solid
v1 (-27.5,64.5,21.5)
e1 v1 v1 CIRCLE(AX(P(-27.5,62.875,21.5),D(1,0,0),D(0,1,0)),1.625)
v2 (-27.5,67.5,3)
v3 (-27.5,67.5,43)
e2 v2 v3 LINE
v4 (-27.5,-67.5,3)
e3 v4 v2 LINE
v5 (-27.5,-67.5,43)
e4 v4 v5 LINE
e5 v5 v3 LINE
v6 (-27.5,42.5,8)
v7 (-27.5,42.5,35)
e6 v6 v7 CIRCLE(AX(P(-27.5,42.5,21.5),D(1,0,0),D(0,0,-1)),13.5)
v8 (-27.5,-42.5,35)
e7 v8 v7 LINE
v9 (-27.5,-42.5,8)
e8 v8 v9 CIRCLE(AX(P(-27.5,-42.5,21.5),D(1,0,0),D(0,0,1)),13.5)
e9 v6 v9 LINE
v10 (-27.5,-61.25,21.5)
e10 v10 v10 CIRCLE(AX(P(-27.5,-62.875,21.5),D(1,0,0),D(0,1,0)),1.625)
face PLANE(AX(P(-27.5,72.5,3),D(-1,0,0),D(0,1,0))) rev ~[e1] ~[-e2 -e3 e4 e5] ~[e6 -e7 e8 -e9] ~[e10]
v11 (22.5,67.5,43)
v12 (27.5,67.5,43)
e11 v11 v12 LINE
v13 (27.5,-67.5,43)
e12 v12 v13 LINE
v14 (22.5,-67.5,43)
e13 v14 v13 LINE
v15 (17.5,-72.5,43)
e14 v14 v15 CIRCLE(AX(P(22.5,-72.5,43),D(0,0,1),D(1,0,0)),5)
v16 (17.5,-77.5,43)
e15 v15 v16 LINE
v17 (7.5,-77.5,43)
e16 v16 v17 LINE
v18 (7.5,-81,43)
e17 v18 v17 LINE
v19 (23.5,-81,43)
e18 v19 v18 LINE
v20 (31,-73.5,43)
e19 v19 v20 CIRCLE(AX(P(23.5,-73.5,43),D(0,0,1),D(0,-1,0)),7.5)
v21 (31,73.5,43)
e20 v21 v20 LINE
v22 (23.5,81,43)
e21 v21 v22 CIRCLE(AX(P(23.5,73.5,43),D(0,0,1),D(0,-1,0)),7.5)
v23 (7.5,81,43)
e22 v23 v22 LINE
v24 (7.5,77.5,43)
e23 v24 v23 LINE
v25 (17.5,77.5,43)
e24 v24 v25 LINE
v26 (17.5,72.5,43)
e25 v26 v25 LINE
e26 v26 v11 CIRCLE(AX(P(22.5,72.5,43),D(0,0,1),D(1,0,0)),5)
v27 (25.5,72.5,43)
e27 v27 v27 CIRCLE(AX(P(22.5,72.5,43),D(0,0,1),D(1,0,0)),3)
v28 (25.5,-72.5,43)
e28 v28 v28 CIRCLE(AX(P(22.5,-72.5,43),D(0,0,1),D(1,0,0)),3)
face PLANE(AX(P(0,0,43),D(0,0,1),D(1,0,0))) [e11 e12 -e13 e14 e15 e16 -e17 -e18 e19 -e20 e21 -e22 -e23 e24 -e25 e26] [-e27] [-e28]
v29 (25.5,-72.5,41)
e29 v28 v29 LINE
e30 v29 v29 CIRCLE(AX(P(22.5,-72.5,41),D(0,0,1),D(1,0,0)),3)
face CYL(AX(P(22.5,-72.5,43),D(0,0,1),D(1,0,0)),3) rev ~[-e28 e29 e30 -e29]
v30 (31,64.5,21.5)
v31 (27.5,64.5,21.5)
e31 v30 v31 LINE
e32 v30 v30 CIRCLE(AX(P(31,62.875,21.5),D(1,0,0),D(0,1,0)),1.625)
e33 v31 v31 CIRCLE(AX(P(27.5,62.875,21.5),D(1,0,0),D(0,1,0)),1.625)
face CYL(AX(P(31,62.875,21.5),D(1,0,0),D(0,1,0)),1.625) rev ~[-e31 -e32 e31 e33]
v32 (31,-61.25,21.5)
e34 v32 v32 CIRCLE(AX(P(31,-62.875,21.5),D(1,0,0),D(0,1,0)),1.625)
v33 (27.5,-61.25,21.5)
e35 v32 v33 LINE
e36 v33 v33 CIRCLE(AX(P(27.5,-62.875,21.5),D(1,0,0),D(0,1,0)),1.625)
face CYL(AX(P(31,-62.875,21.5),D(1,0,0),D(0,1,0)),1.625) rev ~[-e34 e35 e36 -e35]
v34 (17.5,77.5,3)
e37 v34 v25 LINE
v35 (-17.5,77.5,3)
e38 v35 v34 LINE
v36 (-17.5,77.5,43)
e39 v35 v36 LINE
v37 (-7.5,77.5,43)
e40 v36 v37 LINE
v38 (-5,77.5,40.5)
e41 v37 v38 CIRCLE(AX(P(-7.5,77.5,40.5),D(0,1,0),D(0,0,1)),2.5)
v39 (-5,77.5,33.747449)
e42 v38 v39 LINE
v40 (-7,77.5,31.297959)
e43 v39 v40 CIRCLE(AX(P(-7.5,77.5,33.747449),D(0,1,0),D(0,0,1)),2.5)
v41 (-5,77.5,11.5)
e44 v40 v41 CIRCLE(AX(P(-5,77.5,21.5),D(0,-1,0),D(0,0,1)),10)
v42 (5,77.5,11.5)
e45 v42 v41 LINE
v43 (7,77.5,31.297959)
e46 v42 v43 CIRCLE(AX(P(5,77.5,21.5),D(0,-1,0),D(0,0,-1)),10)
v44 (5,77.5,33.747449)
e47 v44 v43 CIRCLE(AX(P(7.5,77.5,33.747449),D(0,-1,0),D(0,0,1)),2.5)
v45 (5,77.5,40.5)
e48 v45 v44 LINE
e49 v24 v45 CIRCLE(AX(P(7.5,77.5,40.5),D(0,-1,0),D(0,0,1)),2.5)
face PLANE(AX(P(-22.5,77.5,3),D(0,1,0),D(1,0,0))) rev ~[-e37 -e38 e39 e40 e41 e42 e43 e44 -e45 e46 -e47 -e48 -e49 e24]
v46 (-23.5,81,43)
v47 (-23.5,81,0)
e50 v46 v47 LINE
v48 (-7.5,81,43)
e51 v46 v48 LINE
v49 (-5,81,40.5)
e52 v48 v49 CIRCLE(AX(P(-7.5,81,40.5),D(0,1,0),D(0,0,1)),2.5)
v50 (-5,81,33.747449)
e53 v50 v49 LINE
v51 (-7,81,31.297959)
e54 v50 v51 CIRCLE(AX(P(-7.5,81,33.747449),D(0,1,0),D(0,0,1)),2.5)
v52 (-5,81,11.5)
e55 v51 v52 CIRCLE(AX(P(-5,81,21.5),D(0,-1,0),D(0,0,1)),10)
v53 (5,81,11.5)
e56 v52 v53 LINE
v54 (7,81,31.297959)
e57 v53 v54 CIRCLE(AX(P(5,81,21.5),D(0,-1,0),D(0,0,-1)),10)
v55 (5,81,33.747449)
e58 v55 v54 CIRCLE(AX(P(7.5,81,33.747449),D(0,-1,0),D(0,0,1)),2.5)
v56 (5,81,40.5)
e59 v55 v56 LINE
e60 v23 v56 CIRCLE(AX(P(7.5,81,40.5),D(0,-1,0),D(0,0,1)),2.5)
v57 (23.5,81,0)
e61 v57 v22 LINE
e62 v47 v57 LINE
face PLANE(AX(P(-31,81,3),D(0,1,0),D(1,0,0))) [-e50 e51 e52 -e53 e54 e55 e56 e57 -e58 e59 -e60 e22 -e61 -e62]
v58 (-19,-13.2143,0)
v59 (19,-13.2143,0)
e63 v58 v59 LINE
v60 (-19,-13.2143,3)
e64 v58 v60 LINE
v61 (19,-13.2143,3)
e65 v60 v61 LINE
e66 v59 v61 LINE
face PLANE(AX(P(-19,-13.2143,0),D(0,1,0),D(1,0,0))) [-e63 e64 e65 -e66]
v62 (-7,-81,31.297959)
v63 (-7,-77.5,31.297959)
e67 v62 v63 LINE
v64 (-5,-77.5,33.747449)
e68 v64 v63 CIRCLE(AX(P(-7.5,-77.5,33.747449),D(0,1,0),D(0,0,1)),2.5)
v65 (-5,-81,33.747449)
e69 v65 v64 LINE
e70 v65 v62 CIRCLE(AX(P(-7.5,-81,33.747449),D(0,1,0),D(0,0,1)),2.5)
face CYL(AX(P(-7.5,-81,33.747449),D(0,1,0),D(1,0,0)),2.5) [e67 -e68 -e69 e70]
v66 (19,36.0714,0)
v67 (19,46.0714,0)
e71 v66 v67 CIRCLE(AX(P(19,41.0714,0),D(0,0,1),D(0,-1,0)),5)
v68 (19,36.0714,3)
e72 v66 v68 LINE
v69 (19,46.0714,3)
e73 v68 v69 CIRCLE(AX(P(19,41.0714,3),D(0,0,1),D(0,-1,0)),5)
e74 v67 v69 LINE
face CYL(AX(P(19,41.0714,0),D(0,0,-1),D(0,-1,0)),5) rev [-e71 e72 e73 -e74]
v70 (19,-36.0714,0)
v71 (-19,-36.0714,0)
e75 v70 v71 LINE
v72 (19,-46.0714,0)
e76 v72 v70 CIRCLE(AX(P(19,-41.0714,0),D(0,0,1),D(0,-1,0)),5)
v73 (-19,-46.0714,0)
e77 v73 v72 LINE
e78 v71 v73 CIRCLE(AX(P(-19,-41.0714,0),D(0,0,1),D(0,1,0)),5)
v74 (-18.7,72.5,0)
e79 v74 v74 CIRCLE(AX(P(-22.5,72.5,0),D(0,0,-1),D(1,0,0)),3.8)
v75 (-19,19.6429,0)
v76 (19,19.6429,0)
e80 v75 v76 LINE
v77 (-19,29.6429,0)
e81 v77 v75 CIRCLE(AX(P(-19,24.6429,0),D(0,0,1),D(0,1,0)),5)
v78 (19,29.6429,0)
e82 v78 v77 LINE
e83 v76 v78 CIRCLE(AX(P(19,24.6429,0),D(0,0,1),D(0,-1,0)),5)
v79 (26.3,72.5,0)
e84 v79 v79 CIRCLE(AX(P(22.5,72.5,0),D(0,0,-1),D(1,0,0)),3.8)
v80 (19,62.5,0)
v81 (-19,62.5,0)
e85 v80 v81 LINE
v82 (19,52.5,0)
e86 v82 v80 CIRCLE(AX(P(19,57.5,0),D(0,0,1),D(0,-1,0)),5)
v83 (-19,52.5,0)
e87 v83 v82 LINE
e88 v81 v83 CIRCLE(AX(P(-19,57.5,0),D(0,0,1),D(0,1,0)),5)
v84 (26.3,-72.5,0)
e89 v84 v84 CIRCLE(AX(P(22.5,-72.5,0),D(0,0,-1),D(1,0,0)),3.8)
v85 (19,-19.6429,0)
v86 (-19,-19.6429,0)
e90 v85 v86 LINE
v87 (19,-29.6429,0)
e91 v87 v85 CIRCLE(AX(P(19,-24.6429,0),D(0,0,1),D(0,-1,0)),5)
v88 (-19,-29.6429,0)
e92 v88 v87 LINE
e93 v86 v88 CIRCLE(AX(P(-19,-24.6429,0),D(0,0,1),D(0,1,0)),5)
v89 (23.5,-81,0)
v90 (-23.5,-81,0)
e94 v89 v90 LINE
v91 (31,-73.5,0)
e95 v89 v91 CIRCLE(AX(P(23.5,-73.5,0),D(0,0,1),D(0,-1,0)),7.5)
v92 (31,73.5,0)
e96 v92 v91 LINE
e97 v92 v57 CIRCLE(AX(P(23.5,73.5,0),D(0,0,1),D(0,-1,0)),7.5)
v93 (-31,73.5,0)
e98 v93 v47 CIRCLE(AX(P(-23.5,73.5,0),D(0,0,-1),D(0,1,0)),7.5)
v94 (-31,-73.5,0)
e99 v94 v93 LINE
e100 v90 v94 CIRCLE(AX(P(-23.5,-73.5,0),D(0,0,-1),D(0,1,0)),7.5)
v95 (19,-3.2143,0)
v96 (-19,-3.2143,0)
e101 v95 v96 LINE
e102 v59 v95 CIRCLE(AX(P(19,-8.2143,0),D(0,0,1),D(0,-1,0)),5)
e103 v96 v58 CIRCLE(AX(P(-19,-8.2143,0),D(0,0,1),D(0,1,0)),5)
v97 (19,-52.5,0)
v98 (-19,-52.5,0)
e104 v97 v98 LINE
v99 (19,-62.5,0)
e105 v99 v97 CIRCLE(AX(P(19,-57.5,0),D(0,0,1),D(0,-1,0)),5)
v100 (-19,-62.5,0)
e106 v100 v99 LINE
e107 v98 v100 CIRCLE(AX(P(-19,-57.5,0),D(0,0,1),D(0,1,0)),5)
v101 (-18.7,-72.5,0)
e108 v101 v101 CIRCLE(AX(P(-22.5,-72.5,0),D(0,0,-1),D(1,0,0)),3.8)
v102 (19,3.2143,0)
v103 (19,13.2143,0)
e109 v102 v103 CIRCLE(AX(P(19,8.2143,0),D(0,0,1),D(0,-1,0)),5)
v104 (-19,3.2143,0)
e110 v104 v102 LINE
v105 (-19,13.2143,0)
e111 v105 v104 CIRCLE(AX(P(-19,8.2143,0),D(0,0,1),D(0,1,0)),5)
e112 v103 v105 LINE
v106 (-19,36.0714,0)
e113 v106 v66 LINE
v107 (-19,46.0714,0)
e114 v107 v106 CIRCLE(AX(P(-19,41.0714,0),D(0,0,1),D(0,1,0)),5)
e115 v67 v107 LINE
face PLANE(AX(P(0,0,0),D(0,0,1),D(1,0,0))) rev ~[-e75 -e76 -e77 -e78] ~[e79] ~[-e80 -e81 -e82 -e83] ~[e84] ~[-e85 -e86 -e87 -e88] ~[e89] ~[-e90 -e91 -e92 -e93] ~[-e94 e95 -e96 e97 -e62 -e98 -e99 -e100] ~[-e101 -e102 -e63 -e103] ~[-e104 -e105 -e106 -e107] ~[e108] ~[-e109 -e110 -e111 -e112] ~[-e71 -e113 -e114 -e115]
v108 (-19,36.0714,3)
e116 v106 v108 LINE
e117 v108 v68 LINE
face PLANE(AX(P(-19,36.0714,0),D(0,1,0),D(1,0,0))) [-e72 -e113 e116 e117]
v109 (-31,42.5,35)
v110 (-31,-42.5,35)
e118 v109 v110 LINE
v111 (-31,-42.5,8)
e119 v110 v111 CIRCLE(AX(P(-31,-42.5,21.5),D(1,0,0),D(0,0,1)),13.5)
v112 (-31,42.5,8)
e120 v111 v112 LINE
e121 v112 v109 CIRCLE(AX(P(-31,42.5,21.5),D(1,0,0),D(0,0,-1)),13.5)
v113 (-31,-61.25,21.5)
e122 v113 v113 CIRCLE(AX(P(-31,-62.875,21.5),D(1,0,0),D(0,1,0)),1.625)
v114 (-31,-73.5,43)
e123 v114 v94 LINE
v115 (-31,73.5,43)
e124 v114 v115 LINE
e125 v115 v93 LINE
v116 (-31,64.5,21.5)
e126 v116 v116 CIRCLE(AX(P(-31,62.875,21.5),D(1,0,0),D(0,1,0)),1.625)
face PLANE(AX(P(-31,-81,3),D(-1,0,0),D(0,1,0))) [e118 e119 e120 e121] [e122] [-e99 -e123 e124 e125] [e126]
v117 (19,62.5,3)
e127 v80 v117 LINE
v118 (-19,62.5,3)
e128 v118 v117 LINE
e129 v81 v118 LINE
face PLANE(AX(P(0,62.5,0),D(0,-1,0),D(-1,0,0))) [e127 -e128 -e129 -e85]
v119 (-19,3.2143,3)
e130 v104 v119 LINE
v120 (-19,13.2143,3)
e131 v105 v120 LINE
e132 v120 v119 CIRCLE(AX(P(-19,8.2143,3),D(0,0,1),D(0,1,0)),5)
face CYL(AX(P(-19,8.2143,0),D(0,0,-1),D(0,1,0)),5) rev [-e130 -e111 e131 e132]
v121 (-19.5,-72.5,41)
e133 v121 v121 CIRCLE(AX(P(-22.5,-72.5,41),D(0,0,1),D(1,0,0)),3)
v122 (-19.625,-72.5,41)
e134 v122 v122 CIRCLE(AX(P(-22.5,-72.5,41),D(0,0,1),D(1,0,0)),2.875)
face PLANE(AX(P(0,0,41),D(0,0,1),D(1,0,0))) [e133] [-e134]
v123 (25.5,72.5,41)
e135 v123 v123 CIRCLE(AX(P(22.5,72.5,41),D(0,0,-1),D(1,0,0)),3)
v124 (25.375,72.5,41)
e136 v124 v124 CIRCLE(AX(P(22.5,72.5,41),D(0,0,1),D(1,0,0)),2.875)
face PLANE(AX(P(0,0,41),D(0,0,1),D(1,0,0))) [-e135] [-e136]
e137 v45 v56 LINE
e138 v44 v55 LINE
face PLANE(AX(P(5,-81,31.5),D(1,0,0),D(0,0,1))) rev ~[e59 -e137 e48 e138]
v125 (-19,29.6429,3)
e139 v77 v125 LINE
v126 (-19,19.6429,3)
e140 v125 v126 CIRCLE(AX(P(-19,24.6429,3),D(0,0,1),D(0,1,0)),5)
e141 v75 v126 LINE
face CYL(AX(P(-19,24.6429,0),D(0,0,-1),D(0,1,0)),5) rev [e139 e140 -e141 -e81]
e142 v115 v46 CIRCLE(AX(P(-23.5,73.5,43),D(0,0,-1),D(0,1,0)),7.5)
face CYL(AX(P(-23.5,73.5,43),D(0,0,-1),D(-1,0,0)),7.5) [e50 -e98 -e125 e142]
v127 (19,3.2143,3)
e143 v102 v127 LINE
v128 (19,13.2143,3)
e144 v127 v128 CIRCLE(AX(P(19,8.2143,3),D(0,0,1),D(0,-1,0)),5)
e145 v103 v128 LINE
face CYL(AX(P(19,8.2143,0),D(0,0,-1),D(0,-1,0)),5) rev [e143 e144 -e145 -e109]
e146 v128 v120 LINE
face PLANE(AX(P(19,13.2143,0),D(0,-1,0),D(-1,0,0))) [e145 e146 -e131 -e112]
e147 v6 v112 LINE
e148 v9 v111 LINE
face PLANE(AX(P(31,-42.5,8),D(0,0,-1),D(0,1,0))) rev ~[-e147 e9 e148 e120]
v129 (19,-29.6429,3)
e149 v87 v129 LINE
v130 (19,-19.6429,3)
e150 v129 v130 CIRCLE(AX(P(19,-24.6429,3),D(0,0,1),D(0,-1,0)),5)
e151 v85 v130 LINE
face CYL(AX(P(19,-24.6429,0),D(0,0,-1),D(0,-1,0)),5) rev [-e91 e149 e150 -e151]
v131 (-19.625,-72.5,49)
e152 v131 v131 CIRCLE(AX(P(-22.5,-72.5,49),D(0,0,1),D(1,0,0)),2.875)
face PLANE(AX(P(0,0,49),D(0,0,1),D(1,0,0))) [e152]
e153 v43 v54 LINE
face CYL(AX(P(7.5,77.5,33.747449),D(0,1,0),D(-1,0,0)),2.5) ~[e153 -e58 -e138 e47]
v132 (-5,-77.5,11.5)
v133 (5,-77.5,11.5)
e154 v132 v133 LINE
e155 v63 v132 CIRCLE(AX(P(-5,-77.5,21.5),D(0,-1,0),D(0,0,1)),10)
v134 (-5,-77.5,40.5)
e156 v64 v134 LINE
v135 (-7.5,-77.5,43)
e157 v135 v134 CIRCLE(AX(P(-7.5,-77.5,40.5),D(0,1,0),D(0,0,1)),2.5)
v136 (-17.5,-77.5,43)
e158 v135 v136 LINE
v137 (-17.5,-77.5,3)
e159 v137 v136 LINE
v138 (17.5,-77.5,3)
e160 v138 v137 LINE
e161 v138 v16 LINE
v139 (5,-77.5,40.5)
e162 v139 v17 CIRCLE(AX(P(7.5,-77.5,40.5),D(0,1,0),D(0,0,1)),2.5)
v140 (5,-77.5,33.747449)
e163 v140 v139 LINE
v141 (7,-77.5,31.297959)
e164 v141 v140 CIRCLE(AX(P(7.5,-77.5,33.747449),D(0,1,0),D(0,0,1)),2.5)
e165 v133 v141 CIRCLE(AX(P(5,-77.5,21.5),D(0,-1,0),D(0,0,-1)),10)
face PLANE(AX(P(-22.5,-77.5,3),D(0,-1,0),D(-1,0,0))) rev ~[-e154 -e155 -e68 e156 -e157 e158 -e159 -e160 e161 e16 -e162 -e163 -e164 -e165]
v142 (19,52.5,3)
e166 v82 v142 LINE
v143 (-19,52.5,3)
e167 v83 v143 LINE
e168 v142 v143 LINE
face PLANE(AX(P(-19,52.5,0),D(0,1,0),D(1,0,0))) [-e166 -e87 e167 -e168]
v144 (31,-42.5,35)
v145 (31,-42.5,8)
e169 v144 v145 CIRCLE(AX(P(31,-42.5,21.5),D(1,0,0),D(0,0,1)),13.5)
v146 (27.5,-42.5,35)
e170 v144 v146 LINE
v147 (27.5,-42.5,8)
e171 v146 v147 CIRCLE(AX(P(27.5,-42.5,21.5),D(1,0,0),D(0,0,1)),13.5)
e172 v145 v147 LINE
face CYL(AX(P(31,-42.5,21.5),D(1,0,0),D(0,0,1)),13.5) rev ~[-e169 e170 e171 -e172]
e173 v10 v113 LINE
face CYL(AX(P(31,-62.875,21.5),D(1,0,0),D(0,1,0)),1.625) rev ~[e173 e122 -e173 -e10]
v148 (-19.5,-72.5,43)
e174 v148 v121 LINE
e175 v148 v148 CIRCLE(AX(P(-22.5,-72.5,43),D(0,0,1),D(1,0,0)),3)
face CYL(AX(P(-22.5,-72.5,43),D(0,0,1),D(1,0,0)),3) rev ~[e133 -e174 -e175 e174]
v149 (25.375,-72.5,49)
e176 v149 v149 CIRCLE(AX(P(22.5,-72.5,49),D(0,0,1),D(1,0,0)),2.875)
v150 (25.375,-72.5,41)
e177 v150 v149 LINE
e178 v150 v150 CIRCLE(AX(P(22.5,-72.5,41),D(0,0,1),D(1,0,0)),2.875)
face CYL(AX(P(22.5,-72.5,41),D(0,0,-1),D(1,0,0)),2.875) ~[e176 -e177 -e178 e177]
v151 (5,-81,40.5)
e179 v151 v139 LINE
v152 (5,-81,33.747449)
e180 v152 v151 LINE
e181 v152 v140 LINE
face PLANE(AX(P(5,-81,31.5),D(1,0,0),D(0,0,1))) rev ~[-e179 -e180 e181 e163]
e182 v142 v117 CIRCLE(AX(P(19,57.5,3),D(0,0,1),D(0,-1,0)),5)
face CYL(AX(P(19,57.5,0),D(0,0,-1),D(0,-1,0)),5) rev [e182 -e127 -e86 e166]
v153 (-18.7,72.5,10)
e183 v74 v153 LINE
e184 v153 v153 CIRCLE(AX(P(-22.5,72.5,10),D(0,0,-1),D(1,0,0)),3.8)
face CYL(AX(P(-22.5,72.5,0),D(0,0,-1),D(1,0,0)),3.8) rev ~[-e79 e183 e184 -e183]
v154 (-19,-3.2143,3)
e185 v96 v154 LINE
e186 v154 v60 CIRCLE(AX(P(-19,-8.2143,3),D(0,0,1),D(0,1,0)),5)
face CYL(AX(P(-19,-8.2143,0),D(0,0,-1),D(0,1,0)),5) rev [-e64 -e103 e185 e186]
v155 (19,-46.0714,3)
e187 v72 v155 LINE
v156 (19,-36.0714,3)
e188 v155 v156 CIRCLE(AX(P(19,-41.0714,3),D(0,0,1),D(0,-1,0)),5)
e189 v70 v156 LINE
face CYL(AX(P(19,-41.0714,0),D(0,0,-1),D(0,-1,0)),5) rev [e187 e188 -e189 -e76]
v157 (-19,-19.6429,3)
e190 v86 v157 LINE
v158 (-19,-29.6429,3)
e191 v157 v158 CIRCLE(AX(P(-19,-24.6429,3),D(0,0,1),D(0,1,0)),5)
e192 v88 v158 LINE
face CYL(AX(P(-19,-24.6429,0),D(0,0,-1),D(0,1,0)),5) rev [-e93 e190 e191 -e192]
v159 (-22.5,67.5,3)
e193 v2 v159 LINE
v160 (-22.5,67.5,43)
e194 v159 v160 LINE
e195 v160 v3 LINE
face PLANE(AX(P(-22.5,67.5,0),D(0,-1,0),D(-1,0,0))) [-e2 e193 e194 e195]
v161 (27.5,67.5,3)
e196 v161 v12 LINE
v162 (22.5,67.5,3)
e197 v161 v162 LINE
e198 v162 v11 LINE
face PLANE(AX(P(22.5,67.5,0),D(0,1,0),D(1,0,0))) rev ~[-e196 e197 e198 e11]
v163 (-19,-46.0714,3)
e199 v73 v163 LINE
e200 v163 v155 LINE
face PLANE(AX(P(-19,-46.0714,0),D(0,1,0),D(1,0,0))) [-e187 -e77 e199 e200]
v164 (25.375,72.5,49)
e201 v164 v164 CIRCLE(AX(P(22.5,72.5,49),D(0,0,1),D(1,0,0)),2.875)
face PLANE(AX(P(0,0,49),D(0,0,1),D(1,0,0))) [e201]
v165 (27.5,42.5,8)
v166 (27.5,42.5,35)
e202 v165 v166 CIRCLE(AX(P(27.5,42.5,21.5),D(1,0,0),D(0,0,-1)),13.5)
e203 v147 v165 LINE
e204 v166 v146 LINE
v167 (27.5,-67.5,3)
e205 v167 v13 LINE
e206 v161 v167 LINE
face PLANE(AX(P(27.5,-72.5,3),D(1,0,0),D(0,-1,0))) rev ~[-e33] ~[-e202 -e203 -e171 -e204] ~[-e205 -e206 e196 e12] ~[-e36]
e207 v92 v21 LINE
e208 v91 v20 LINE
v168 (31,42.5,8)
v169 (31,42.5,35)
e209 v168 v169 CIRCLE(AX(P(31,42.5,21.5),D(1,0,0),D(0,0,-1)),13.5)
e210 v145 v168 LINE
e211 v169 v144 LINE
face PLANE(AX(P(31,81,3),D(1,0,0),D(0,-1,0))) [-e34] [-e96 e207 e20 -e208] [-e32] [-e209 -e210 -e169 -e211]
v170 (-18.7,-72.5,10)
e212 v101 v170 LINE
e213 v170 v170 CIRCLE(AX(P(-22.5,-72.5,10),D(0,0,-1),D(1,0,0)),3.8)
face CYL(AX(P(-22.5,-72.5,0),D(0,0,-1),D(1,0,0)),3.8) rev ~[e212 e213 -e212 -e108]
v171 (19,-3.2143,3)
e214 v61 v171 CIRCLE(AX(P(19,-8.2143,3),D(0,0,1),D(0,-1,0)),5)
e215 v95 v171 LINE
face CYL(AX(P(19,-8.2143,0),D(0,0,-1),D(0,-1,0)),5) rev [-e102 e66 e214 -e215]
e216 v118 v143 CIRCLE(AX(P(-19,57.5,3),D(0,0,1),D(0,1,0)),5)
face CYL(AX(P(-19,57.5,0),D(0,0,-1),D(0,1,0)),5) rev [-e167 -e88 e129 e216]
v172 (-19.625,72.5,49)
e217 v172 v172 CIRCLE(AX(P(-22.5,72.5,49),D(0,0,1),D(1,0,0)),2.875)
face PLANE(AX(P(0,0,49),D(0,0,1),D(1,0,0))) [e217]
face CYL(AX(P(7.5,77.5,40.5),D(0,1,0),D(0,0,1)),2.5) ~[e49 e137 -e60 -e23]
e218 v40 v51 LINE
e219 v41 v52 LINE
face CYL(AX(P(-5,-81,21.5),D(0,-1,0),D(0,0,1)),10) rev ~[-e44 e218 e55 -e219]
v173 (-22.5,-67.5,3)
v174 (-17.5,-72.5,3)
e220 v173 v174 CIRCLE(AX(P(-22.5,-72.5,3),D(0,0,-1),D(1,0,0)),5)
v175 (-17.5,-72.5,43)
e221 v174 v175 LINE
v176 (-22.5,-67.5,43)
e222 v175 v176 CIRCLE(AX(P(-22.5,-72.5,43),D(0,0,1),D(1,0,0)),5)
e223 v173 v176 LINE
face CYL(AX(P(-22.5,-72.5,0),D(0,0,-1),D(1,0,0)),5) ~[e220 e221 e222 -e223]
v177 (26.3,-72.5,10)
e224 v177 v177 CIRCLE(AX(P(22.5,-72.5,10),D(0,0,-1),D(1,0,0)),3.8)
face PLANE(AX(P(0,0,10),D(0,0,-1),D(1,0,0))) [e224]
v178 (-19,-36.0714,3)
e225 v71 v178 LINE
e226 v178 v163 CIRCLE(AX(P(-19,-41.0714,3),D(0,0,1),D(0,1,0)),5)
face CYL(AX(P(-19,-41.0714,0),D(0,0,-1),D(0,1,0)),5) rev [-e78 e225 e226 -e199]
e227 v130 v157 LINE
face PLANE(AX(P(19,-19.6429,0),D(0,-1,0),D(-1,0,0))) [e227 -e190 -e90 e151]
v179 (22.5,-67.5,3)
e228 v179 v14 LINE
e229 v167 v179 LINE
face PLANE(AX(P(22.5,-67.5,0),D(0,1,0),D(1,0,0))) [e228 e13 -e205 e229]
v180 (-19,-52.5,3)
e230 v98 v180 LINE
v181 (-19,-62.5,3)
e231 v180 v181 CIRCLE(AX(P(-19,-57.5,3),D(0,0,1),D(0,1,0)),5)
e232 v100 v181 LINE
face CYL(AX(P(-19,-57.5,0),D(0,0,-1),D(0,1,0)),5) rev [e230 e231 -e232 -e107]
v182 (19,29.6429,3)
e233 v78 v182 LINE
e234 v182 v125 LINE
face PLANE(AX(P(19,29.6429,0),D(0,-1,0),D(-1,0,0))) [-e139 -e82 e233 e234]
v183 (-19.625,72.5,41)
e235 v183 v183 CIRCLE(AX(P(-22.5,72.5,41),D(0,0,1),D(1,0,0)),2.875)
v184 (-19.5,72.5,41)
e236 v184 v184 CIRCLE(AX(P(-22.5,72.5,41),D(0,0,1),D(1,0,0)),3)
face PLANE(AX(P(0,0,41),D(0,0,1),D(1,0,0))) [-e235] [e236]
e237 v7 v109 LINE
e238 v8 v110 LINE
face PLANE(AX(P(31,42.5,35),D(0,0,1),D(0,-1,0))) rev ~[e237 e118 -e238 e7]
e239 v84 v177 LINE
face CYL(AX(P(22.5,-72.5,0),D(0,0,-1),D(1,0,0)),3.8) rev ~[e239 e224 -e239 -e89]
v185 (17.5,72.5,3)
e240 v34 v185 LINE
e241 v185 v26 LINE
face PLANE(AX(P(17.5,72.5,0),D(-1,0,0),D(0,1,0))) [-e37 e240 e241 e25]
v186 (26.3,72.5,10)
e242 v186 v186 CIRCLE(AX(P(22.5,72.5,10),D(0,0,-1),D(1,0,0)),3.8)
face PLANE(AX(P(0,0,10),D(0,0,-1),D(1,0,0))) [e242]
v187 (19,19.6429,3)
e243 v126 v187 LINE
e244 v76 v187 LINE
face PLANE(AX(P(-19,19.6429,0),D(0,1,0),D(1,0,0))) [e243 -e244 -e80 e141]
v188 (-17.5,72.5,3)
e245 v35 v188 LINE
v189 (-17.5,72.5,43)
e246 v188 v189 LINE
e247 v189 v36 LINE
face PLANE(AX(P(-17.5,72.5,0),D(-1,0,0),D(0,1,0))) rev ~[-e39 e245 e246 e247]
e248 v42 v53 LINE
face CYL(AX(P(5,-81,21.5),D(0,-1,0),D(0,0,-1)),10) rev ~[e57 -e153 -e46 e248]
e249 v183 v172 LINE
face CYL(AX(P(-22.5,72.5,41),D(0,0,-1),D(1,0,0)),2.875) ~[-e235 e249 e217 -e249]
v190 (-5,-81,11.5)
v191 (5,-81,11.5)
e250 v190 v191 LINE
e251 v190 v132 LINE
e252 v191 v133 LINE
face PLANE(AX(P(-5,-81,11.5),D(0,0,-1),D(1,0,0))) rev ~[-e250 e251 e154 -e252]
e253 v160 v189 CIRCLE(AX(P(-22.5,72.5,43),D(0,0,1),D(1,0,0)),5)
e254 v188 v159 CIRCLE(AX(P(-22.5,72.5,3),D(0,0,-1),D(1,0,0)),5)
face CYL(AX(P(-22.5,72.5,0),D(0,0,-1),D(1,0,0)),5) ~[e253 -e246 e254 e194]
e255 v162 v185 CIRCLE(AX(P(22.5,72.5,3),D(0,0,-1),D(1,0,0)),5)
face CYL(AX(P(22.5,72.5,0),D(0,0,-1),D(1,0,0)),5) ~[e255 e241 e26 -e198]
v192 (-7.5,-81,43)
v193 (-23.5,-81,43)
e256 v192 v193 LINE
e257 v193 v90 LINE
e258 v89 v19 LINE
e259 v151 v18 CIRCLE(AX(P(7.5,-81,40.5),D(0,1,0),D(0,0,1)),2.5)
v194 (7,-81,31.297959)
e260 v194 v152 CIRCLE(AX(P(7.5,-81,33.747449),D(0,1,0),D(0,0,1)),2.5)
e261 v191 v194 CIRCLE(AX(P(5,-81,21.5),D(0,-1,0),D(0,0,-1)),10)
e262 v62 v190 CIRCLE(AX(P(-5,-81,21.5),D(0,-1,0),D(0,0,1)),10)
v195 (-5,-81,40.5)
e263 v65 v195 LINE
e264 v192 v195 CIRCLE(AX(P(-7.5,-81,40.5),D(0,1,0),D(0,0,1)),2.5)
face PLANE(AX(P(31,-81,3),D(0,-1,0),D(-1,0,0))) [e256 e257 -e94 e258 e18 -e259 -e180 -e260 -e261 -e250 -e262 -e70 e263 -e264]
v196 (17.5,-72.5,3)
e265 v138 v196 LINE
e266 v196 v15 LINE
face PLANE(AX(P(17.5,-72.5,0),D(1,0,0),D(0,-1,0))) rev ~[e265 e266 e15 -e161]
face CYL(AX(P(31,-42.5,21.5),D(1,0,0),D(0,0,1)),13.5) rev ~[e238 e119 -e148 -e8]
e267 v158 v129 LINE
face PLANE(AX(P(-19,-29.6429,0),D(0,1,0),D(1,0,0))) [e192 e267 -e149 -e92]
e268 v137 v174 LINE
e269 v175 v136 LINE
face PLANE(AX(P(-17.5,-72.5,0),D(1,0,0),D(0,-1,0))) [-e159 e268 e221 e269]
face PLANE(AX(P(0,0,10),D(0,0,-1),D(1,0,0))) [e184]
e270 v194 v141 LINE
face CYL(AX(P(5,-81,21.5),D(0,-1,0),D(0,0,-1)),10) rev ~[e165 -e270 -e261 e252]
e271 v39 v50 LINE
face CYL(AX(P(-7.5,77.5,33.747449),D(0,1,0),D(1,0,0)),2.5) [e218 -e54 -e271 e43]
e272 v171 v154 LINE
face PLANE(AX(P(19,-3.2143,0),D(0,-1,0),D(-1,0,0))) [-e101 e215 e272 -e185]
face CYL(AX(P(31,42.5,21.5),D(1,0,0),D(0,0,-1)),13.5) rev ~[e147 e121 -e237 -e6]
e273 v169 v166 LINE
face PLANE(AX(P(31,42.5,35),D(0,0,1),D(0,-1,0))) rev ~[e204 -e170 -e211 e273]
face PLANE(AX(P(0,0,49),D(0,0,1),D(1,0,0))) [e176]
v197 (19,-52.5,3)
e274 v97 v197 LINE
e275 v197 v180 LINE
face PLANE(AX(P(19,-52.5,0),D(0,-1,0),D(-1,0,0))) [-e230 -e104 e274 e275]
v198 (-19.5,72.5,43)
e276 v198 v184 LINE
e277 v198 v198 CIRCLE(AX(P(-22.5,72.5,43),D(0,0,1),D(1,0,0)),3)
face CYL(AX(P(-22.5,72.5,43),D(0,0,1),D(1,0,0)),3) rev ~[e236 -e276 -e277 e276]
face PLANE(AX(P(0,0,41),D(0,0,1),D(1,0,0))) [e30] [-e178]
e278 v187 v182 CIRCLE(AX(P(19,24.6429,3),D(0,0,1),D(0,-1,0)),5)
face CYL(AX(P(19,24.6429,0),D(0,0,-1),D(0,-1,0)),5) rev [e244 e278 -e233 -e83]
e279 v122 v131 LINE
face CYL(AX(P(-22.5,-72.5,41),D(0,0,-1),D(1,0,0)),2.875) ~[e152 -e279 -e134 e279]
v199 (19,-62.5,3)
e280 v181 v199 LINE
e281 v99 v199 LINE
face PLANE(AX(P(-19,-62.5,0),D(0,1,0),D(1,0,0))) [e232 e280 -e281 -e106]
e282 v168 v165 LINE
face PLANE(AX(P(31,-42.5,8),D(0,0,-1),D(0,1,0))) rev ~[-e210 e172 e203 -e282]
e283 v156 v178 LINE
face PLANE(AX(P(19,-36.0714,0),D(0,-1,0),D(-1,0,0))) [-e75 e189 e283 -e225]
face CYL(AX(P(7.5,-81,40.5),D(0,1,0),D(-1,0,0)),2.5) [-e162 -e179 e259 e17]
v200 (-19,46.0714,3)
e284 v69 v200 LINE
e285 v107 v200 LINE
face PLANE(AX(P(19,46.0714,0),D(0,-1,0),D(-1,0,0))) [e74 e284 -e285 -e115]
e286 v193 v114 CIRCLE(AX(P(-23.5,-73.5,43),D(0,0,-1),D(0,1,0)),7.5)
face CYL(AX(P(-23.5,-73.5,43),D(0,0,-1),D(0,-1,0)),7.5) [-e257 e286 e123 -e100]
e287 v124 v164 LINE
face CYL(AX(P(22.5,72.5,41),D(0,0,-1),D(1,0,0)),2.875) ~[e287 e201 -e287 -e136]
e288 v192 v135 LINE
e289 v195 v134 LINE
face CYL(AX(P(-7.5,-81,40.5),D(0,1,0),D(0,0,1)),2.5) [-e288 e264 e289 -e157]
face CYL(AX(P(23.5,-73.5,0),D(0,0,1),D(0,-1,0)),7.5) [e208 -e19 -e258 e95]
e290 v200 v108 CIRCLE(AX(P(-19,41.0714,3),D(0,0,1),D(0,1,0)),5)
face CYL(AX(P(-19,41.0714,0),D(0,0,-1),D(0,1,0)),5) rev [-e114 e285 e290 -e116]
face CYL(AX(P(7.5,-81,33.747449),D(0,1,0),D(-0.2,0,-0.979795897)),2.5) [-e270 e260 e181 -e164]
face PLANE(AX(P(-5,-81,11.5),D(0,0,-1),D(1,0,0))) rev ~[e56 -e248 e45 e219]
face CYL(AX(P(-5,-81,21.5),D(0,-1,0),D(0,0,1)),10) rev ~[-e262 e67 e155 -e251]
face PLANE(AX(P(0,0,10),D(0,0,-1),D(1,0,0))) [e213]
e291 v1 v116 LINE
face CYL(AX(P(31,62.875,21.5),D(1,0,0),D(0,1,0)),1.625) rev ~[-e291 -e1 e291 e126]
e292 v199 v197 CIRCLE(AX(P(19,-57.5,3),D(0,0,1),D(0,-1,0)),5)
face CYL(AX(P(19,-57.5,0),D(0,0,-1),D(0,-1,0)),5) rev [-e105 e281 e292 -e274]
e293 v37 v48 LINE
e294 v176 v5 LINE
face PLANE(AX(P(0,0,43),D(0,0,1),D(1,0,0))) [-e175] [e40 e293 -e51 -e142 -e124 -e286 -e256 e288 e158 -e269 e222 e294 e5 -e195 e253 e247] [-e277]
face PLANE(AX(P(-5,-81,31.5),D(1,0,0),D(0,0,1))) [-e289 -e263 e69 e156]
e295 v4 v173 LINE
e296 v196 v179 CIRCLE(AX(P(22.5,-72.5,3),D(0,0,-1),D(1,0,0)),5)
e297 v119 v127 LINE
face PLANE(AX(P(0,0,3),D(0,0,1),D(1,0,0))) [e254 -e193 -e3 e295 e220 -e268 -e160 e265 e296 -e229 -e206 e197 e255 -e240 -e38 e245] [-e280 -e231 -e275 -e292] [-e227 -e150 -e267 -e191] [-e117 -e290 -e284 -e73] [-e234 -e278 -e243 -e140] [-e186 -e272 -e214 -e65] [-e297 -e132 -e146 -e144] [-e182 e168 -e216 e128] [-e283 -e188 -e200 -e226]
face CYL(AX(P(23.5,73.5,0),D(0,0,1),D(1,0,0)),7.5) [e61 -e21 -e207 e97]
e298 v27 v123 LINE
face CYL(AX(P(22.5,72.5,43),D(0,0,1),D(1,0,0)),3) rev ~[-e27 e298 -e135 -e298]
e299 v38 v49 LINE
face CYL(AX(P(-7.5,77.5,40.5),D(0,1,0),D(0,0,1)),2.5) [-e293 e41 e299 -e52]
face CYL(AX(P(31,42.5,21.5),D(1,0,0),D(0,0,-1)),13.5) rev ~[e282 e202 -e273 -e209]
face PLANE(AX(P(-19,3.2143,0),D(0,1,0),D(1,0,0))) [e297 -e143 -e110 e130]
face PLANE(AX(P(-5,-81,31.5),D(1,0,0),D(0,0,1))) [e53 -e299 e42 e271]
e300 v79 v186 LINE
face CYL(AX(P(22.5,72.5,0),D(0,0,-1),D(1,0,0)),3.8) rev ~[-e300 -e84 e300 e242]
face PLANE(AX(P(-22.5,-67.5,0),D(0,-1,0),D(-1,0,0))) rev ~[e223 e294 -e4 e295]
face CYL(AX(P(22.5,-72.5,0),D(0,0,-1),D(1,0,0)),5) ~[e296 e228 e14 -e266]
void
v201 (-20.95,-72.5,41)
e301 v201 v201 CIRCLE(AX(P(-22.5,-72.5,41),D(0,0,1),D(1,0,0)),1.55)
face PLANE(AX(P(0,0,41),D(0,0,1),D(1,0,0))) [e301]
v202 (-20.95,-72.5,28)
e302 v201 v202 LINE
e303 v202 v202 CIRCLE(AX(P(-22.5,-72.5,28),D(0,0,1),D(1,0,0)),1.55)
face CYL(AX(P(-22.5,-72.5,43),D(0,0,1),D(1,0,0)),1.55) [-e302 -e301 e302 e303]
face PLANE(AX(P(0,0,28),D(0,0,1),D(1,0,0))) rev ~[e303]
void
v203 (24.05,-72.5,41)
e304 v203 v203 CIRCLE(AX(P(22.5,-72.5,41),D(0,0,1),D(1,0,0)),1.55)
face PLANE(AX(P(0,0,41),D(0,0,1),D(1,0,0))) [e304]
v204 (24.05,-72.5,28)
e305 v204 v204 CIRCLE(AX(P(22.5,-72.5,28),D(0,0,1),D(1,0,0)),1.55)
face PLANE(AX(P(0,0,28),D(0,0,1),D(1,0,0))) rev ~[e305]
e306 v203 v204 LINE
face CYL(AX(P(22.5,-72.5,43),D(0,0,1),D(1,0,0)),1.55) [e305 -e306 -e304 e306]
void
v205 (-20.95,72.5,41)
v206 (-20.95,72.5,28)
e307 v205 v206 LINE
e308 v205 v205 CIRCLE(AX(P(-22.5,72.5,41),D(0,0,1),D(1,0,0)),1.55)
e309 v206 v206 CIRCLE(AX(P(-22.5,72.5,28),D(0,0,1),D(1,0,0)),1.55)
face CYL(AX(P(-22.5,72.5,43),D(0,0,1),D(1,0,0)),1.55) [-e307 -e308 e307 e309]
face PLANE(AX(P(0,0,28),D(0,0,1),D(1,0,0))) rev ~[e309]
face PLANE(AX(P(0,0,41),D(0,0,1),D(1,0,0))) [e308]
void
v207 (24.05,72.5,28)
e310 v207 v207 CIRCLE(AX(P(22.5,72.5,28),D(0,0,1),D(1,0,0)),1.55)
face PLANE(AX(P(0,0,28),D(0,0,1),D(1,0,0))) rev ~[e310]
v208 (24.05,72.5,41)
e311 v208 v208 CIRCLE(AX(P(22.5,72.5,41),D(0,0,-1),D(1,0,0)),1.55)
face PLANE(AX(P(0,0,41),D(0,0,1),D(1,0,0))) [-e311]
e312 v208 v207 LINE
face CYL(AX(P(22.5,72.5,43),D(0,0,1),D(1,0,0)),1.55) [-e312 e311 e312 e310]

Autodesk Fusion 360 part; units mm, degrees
sketch "top" plane through (0, 0, 0) normal (0, 0, 1) x (1, 0, 0)
  line L0 (-27.5, 77.5) -> (27.5, 77.5)
  line L1 (27.5, 77.5) -> (27.5, -77.5)
  line L2 (27.5, -77.5) -> (-27.5, -77.5)
  line L3 (-27.5, -77.5) -> (-27.5, 77.5)
  line L4 (31, -81) -> (-31, -81)
  line L5 (-31, -81) -> (-31, 81)
  line L6 (-31, 81) -> (31, 81)
  line L7 (31, 81) -> (31, -81)
  line L8 (0, 77.5) -> (0, -77.5) construction
  line L9 (-27.5, 0) -> (27.5, 0) construction
  circle A0 centre (22.5, 72.5) radius 1.55
  circle A1 centre (22.5, 72.5) radius 3
  circle A2 centre (22.5, 72.5) radius 5
  circle A3 centre (-22.5, 72.5) radius 5
  circle A4 centre (-22.5, 72.5) radius 3
  circle A5 centre (-22.5, 72.5) radius 1.55
  circle A6 centre (-22.5, -72.5) radius 5
  circle A7 centre (-22.5, -72.5) radius 3
  circle A8 centre (-22.5, -72.5) radius 1.55
  circle A9 centre (22.5, -72.5) radius 5
  circle A10 centre (22.5, -72.5) radius 3
  circle A11 centre (22.5, -72.5) radius 1.55
  line L10 (22.5, 72.5) -> (22.5, 67.5)
  line L11 (22.5, 72.5) -> (17.5, 72.5)
  line L12 (22.5, 67.5) -> (27.5, 67.5)
  line L13 (17.5, 72.5) -> (17.5, 77.5)
  line L14 (-17.5, 72.5) -> (-17.5, 77.5)
  line L15 (-22.5, 67.5) -> (-27.5, 67.5)
  line L16 (22.5, -67.5) -> (27.5, -67.5)
  line L17 (17.5, -72.5) -> (17.5, -77.5)
  line L18 (-17.5, -72.5) -> (-17.5, -77.5)
  line L19 (-22.5, -67.5) -> (-27.5, -67.5)
  line L20 (-19, 52.5) -> (19, 52.5)
  arc A12 (19, 52.5) -> (19, 62.5) centre (19, 57.5) ccw
  line L21 (19, 62.5) -> (-19, 62.5)
  arc A13 (-19, 62.5) -> (-19, 52.5) centre (-19, 57.5) ccw
  line L22 (-19, 57.5) -> (19, 57.5) construction
  line L23 (0, 62.5) -> (0, 52.5)
  arc A14 (-19, 46.0714) -> (-19, 36.0714) centre (-19, 41.0714) ccw
  line L24 (19, 46.0714) -> (-19, 46.0714)
  line L25 (-19, 36.0714) -> (19, 36.0714)
  arc A15 (19, 36.0714) -> (19, 46.0714) centre (19, 41.0714) ccw
  arc A16 (-19, 29.6429) -> (-19, 19.6429) centre (-19, 24.6429) ccw
  line L26 (19, 29.6429) -> (-19, 29.6429)
  line L27 (-19, 19.6429) -> (19, 19.6429)
  arc A17 (19, 19.6429) -> (19, 29.6429) centre (19, 24.6429) ccw
  arc A18 (-19, 13.2143) -> (-19, 3.2143) centre (-19, 8.2143) ccw
  line L28 (19, 13.2143) -> (-19, 13.2143)
  line L29 (-19, 3.2143) -> (19, 3.2143)
  arc A19 (19, 3.2143) -> (19, 13.2143) centre (19, 8.2143) ccw
  arc A20 (-19, -3.2143) -> (-19, -13.2143) centre (-19, -8.2143) ccw
  line L30 (19, -3.2143) -> (-19, -3.2143)
  line L31 (-19, -13.2143) -> (19, -13.2143)
  arc A21 (19, -13.2143) -> (19, -3.2143) centre (19, -8.2143) ccw
  arc A22 (-19, -19.6429) -> (-19, -29.6429) centre (-19, -24.6429) ccw
  line L32 (19, -19.6429) -> (-19, -19.6429)
  line L33 (-19, -29.6429) -> (19, -29.6429)
  arc A23 (19, -29.6429) -> (19, -19.6429) centre (19, -24.6429) ccw
  arc A24 (-19, -36.0714) -> (-19, -46.0714) centre (-19, -41.0714) ccw
  line L34 (19, -36.0714) -> (-19, -36.0714)
  line L35 (-19, -46.0714) -> (19, -46.0714)
  arc A25 (19, -46.0714) -> (19, -36.0714) centre (19, -41.0714) ccw
  arc A26 (-19, -52.5) -> (-19, -62.5) centre (-19, -57.5) ccw
  line L36 (19, -52.5) -> (-19, -52.5)
  line L37 (-19, -62.5) -> (19, -62.5)
  arc A27 (19, -62.5) -> (19, -52.5) centre (19, -57.5) ccw
  dimension "d1" = 55
  dimension "d2" = 155
  dimension "d3" = -3.5
  dimension "d4" = 3.1
  dimension "d5" = 6
  dimension "d6" = 2
  dimension "d20" = 10
  dimension "d21" = 5
  dimension "d22" = 38
  dimension "d25" = 0
  dimension "d26" = -115
extrude "Extrude1" add sketch "top" along normal blind 3 contours L0 A3 L14 | L0 L1 L2 L3 A2 A3 A6 A9 L12 L13 L14 L15 L16 L17 L18 L19 | L0 A2 L13 | L0 L3 A3 | A3 | L0 L1 A2 | A1 A2 L10 L11 | A1 A2 L10 L11 | L3 A3 L15 | L1 A2 L12 | A0 A1 L10 L11 | A0 A1 L10 L11 | A0 L10 L11 | A0 L10 L11 | L3 A6 L19 | L1 A9 L16 | L2 L3 A6 | A6 | A9 | L1 L2 A9 | L2 A6 L18 | L2 A9 L17 | L4 L5 L6 L7 | A4 | A5 | A7 | A8 | A10 | A11 | L20 L21 A13 L23 | L20 A12 L21 L23 | A14 L24 L25 A15 | A16 L26 L27 A17 | A18 L28 L29 A19 | A20 L30 L31 A21 | A22 L32 L33 A23 | A24 L34 L35 A25 | A26 L36 L37 A27
extrude "Extrude2" add sketch "top" along normal blind 40 from surface at 3 contours L4 L5 L6 L7
extrude "Extrude3" add sketch "top" along normal up to surface (43 mm away) contours L0 A3 L14 | L0 A2 L13 | L0 L3 A3 | A3 | L0 L1 A2 | A1 A2 L10 L11 | A1 A2 L10 L11 | L3 A3 L15 | L1 A2 L12 | A0 A1 L10 L11 | A0 A1 L10 L11 | A0 L10 L11 | A0 L10 L11 | L3 A6 L19 | L1 A9 L16 | L2 L3 A6 | A6 | A9 | L1 L2 A9 | L2 A6 L18 | L2 A9 L17 | A4 | A5 | A7 | A8 | A10 | A11
extrude "Extrude4" cut sketch "top" against normal blind 15 from surface at 43 contours A0 L10 L11 | A0 L10 L11 | A5 | A8 | A11
extrude "Extrude5" cut sketch "top" against normal blind 2 from surface at 43 contours A0 A1 L10 L11 | A0 A1 L10 L11 | A4 | A7 | A10
extrude "Extrude6" cut sketch "top" along normal up to surface (3 mm away) contours L20 L21 A13 L23 | L20 A12 L21 L23 | A14 L24 L25 A15 | A16 L26 L27 A17 | A18 L28 L29 A19 | A20 L30 L31 A21 | A22 L32 L33 A23 | A24 L34 L35 A25 | A26 L36 L37 A27
sketch "front" plane through (0, -81, 0) normal (0, -1, 0) x (1, 0, 0)
  line L0 (-31, 0) -> (31, 0)
  line L1 (31, 0) -> (31, 43)
  line L2 (31, 43) -> (-31, 43)
  line L3 (-31, 43) -> (-31, 0)
  line L4 (-31, 43) -> (31, 43)
  line L5 (-31, 0) -> (-31, 43)
  line L6 (31, 0) -> (-31, 0)
  line L7 (31, 0) -> (31, 43)
  line L8 (0, 43) -> (0, 0) construction
  line L9 (-31, 21.5) -> (31, 21.5) construction
  line L10 (-5, 11.5) -> (5, 11.5)
  arc A0 (5, 11.5) -> (5, 31.5) centre (5, 21.5) ccw
  line L11 (5, 31.5) -> (-5, 31.5)
  arc A1 (-5, 31.5) -> (-5, 11.5) centre (-5, 21.5) ccw
  line L12 (-5, 21.5) -> (5, 21.5) construction
  line L13 (0, 31.5) -> (0, 11.5) construction
  line L14 (17.5, 3) -> (17.5, 43)
  line L15 (-17.5, 43) -> (-17.5, 3)
  line L16 (-5, 31.5) -> (-5, 43)
  line L17 (5, 31.5) -> (5, 43)
  dimension "d29" = 20
  dimension "d30" = 10
sketch "side" plane through (31, 0, 0) normal (1, 0, 0) x (0, 1, 0)
  line L0 (-81, 0) -> (81, 0)
  line L1 (81, 0) -> (81, 43)
  line L2 (81, 43) -> (-81, 43)
  line L3 (-81, 43) -> (-81, 0)
  line L4 (-81, 43) -> (81, 43)
  line L5 (-81, 0) -> (-81, 43)
  line L6 (81, 0) -> (-81, 0)
  line L7 (81, 0) -> (81, 43)
  line L8 (0, 43) -> (0, 0) construction
  line L9 (-81, 21.5) -> (81, 21.5) construction
  line L10 (-42.5, 8) -> (42.5, 8)
  arc A0 (42.5, 8) -> (42.5, 35) centre (42.5, 21.5) ccw
  line L11 (42.5, 35) -> (-42.5, 35)
  arc A1 (-42.5, 35) -> (-42.5, 8) centre (-42.5, 21.5) ccw
  line L12 (-42.5, 21.5) -> (42.5, 21.5) construction
  circle A2 centre (-62.875, 21.5) radius 1.625
  line L13 (-67.5, 43) -> (-67.5, 3)
  circle A3 centre (62.875, 21.5) radius 1.625
  dimension "d37" = 8
  dimension "d38" = 25
  dimension "d39" = 25
  dimension "d44" = 3.25
  dimension "d45" = 3
extrude "Extrude9" cut sketch "side" against normal up to surface (62 mm away) contours L10 A0 L11 A1
extrude "Extrude10" cut sketch "top" along normal blind 10 contours A0 A1 L10 L11 | A0 A1 L10 L11 | A0 L10 L11 | A0 L10 L11 | A4 | A5 | A7 | A8 | A10 | A11
extrude "Extrude11" cut sketch "side" against normal up to surface (62 mm away) contours A2 | A3
sketch "top-2" plane through (0, 0, 0) normal (0, 0, 1) x (1, 0, 0)
  circle A0 centre (-22.5, 72.5) radius 3
  circle A1 centre (-22.5, 72.5) radius 1.55
  circle A2 centre (-22.5, -72.5) radius 3
  circle A3 centre (-22.5, -72.5) radius 1.55
  circle A4 centre (22.5, -72.5) radius 1.55
  circle A5 centre (22.5, -72.5) radius 3
  circle A6 centre (22.5, 72.5) radius 3
  circle A7 centre (22.5, 72.5) radius 1.55
  line L0 (31, -81) -> (31, 81)
  line L1 (31, 81) -> (-31, 81)
  line L2 (31, 81) -> (-31, 81)
  line L3 (-31, 81) -> (-31, -81)
  line L4 (-27.5, -67.5) -> (-27.5, 67.5)
  line L5 (-31, -81) -> (31, -81)
  line L6 (-31, -81) -> (31, -81)
  line L7 (17.5, -77.5) -> (17.5, -72.5)
  arc A8 (22.5, -67.5) -> (17.5, -72.5) centre (22.5, -72.5) ccw
  line L8 (22.5, -67.5) -> (27.5, -67.5)
  line L9 (27.5, 67.5) -> (27.5, -67.5)
  line L10 (-17.5, -72.5) -> (-17.5, -77.5)
  arc A9 (-17.5, -72.5) -> (-22.5, -67.5) centre (-22.5, -72.5) ccw
  line L11 (-27.5, -67.5) -> (-22.5, -67.5)
  line L12 (-22.5, 67.5) -> (-27.5, 67.5)
  arc A10 (-22.5, 67.5) -> (-17.5, 72.5) centre (-22.5, 72.5) ccw
  line L13 (-17.5, 77.5) -> (-17.5, 72.5)
  line L14 (17.5, 72.5) -> (17.5, 77.5)
  arc A11 (17.5, 72.5) -> (22.5, 67.5) centre (22.5, 72.5) ccw
  line L15 (27.5, 67.5) -> (22.5, 67.5)
  circle A12 centre (22.5, 72.5) radius 2.875
  line L16 (27.5, 0) -> (-27.5, 0) construction
  line L17 (17.5, 72.5) -> (-17.5, 72.5)
  line L18 (17.5, -72.5) -> (-17.5, -72.5)
  line L19 (0, 72.5) -> (0, -72.5) construction
  circle A13 centre (22.5, -72.5) radius 2.875
  circle A14 centre (-22.5, 72.5) radius 2.875
  circle A15 centre (-22.5, -72.5) radius 2.875
  dimension "d48" = 5.75
extrude "Extrude12" add sketch "top-2" along normal blind 8 from surface at 41 contours A1 | A3 | A4 | A7 | A12 | A13 | A14 | A15
fillet "Fillet1" radius 7.5 4 edges at (-31, 81, 21.5) (31, 81, 21.5) (31, -81, 21.5) (-31, -81, 21.5)
extrude "Extrude13" cut sketch "front" against normal up to surface (162 mm away) contours L2 L4 L11 L16 L17 | L10 A0 L11 A1
fillet "Fillet4" radius 2.5 8 edges at (-5, -79.25, 43) (5, -79.25, 43) (5, -79.25, 31.5) (-5, -79.25, 31.5) (-5, 79.25, 43) (-5, 79.25, 31.5) (5, 79.25, 43) (5, 79.25, 31.5)
sketch "Sketch6" plane through (0, 0, 0) normal (0, 0, -1) x (1, 0, 0)
  arc A0 (-23.5, 81) -> (-31, 73.5) centre (-23.5, 73.5) ccw
  line L0 (-31, 73.5) -> (-31, -73.5)
  arc A1 (-31, -73.5) -> (-23.5, -81) centre (-23.5, -73.5) ccw
  line L1 (-23.5, -81) -> (23.5, -81)
  arc A2 (23.5, -81) -> (31, -73.5) centre (23.5, -73.5) ccw
  line L2 (31, -73.5) -> (31, 73.5)
  arc A3 (31, 73.5) -> (23.5, 81) centre (23.5, 73.5) ccw
  line L3 (23.5, 81) -> (-23.5, 81)
  circle A4 centre (22.5, 72.5) radius 3
  circle A5 centre (22.5, -72.5) radius 3
  circle A6 centre (-22.5, 72.5) radius 3
  circle A7 centre (-22.5, -72.5) radius 3
  line L4 (19, 19.6429) -> (-19, 19.6429)
  arc A8 (-19, 29.6429) -> (-19, 19.6429) centre (-19, 24.6429) ccw
  line L5 (-19, 29.6429) -> (19, 29.6429)
  arc A9 (19, 19.6429) -> (19, 29.6429) centre (19, 24.6429) ccw
  line L6 (19, -46.0714) -> (-19, -46.0714)
  arc A10 (-19, -36.0714) -> (-19, -46.0714) centre (-19, -41.0714) ccw
  line L7 (-19, -36.0714) -> (19, -36.0714)
  arc A11 (19, -46.0714) -> (19, -36.0714) centre (19, -41.0714) ccw
  line L8 (19, -29.6429) -> (-19, -29.6429)
  arc A12 (-19, -19.6429) -> (-19, -29.6429) centre (-19, -24.6429) ccw
  line L9 (-19, -19.6429) -> (19, -19.6429)
  arc A13 (19, -29.6429) -> (19, -19.6429) centre (19, -24.6429) ccw
  line L10 (19, 36.0714) -> (-19, 36.0714)
  arc A14 (-19, 46.0714) -> (-19, 36.0714) centre (-19, 41.0714) ccw
  line L11 (-19, 46.0714) -> (19, 46.0714)
  arc A15 (19, 36.0714) -> (19, 46.0714) centre (19, 41.0714) ccw
  line L12 (19, 3.2143) -> (-19, 3.2143)
  arc A16 (-19, 13.2143) -> (-19, 3.2143) centre (-19, 8.2143) ccw
  line L13 (-19, 13.2143) -> (19, 13.2143)
  arc A17 (19, 3.2143) -> (19, 13.2143) centre (19, 8.2143) ccw
  line L14 (-19, -52.5) -> (19, -52.5)
  arc A18 (19, -62.5) -> (19, -52.5) centre (19, -57.5) ccw
  line L15 (19, -62.5) -> (-19, -62.5)
  arc A19 (-19, -52.5) -> (-19, -62.5) centre (-19, -57.5) ccw
  line L16 (19, -13.2143) -> (-19, -13.2143)
  arc A20 (-19, -3.2143) -> (-19, -13.2143) centre (-19, -8.2143) ccw
  line L17 (-19, -3.2143) -> (19, -3.2143)
  arc A21 (19, -13.2143) -> (19, -3.2143) centre (19, -8.2143) ccw
  line L18 (19, 52.5) -> (-19, 52.5)
  arc A22 (-19, 62.5) -> (-19, 52.5) centre (-19, 57.5) ccw
  line L19 (-19, 62.5) -> (19, 62.5)
  arc A23 (19, 52.5) -> (19, 62.5) centre (19, 57.5) ccw
  circle A24 centre (-22.5, 72.5) radius 3
  line L20 (23.5, 81) -> (-23.5, 81)
  line L21 (-31, 73.5) -> (-31, -73.5)
  line L22 (31, -73.5) -> (31, 73.5)
  arc A25 (-23.5, 81) -> (-31, 73.5) centre (-23.5, 73.5) ccw
  arc A26 (31, 73.5) -> (23.5, 81) centre (23.5, 73.5) ccw
  arc A27 (23.5, -81) -> (31, -73.5) centre (23.5, -73.5) ccw
  line L23 (-23.5, -81) -> (23.5, -81)
  arc A28 (-31, -73.5) -> (-23.5, -81) centre (-23.5, -73.5) ccw
  line L24 (-31, 0) -> (31, 0) construction
  line L25 (0, 81) -> (0, -81) construction
  circle A29 centre (-22.5, 72.5) radius 3.8
  circle A30 centre (22.5, 72.5) radius 3.8
  circle A31 centre (-22.5, -72.5) radius 3.8
  circle A32 centre (22.5, -72.5) radius 3.8
  dimension "d62" = 0.8
extrude "Extrude14" cut sketch "Sketch6" against normal up to surface (10 mm away) contours A29 | A30 | A31 | A32
